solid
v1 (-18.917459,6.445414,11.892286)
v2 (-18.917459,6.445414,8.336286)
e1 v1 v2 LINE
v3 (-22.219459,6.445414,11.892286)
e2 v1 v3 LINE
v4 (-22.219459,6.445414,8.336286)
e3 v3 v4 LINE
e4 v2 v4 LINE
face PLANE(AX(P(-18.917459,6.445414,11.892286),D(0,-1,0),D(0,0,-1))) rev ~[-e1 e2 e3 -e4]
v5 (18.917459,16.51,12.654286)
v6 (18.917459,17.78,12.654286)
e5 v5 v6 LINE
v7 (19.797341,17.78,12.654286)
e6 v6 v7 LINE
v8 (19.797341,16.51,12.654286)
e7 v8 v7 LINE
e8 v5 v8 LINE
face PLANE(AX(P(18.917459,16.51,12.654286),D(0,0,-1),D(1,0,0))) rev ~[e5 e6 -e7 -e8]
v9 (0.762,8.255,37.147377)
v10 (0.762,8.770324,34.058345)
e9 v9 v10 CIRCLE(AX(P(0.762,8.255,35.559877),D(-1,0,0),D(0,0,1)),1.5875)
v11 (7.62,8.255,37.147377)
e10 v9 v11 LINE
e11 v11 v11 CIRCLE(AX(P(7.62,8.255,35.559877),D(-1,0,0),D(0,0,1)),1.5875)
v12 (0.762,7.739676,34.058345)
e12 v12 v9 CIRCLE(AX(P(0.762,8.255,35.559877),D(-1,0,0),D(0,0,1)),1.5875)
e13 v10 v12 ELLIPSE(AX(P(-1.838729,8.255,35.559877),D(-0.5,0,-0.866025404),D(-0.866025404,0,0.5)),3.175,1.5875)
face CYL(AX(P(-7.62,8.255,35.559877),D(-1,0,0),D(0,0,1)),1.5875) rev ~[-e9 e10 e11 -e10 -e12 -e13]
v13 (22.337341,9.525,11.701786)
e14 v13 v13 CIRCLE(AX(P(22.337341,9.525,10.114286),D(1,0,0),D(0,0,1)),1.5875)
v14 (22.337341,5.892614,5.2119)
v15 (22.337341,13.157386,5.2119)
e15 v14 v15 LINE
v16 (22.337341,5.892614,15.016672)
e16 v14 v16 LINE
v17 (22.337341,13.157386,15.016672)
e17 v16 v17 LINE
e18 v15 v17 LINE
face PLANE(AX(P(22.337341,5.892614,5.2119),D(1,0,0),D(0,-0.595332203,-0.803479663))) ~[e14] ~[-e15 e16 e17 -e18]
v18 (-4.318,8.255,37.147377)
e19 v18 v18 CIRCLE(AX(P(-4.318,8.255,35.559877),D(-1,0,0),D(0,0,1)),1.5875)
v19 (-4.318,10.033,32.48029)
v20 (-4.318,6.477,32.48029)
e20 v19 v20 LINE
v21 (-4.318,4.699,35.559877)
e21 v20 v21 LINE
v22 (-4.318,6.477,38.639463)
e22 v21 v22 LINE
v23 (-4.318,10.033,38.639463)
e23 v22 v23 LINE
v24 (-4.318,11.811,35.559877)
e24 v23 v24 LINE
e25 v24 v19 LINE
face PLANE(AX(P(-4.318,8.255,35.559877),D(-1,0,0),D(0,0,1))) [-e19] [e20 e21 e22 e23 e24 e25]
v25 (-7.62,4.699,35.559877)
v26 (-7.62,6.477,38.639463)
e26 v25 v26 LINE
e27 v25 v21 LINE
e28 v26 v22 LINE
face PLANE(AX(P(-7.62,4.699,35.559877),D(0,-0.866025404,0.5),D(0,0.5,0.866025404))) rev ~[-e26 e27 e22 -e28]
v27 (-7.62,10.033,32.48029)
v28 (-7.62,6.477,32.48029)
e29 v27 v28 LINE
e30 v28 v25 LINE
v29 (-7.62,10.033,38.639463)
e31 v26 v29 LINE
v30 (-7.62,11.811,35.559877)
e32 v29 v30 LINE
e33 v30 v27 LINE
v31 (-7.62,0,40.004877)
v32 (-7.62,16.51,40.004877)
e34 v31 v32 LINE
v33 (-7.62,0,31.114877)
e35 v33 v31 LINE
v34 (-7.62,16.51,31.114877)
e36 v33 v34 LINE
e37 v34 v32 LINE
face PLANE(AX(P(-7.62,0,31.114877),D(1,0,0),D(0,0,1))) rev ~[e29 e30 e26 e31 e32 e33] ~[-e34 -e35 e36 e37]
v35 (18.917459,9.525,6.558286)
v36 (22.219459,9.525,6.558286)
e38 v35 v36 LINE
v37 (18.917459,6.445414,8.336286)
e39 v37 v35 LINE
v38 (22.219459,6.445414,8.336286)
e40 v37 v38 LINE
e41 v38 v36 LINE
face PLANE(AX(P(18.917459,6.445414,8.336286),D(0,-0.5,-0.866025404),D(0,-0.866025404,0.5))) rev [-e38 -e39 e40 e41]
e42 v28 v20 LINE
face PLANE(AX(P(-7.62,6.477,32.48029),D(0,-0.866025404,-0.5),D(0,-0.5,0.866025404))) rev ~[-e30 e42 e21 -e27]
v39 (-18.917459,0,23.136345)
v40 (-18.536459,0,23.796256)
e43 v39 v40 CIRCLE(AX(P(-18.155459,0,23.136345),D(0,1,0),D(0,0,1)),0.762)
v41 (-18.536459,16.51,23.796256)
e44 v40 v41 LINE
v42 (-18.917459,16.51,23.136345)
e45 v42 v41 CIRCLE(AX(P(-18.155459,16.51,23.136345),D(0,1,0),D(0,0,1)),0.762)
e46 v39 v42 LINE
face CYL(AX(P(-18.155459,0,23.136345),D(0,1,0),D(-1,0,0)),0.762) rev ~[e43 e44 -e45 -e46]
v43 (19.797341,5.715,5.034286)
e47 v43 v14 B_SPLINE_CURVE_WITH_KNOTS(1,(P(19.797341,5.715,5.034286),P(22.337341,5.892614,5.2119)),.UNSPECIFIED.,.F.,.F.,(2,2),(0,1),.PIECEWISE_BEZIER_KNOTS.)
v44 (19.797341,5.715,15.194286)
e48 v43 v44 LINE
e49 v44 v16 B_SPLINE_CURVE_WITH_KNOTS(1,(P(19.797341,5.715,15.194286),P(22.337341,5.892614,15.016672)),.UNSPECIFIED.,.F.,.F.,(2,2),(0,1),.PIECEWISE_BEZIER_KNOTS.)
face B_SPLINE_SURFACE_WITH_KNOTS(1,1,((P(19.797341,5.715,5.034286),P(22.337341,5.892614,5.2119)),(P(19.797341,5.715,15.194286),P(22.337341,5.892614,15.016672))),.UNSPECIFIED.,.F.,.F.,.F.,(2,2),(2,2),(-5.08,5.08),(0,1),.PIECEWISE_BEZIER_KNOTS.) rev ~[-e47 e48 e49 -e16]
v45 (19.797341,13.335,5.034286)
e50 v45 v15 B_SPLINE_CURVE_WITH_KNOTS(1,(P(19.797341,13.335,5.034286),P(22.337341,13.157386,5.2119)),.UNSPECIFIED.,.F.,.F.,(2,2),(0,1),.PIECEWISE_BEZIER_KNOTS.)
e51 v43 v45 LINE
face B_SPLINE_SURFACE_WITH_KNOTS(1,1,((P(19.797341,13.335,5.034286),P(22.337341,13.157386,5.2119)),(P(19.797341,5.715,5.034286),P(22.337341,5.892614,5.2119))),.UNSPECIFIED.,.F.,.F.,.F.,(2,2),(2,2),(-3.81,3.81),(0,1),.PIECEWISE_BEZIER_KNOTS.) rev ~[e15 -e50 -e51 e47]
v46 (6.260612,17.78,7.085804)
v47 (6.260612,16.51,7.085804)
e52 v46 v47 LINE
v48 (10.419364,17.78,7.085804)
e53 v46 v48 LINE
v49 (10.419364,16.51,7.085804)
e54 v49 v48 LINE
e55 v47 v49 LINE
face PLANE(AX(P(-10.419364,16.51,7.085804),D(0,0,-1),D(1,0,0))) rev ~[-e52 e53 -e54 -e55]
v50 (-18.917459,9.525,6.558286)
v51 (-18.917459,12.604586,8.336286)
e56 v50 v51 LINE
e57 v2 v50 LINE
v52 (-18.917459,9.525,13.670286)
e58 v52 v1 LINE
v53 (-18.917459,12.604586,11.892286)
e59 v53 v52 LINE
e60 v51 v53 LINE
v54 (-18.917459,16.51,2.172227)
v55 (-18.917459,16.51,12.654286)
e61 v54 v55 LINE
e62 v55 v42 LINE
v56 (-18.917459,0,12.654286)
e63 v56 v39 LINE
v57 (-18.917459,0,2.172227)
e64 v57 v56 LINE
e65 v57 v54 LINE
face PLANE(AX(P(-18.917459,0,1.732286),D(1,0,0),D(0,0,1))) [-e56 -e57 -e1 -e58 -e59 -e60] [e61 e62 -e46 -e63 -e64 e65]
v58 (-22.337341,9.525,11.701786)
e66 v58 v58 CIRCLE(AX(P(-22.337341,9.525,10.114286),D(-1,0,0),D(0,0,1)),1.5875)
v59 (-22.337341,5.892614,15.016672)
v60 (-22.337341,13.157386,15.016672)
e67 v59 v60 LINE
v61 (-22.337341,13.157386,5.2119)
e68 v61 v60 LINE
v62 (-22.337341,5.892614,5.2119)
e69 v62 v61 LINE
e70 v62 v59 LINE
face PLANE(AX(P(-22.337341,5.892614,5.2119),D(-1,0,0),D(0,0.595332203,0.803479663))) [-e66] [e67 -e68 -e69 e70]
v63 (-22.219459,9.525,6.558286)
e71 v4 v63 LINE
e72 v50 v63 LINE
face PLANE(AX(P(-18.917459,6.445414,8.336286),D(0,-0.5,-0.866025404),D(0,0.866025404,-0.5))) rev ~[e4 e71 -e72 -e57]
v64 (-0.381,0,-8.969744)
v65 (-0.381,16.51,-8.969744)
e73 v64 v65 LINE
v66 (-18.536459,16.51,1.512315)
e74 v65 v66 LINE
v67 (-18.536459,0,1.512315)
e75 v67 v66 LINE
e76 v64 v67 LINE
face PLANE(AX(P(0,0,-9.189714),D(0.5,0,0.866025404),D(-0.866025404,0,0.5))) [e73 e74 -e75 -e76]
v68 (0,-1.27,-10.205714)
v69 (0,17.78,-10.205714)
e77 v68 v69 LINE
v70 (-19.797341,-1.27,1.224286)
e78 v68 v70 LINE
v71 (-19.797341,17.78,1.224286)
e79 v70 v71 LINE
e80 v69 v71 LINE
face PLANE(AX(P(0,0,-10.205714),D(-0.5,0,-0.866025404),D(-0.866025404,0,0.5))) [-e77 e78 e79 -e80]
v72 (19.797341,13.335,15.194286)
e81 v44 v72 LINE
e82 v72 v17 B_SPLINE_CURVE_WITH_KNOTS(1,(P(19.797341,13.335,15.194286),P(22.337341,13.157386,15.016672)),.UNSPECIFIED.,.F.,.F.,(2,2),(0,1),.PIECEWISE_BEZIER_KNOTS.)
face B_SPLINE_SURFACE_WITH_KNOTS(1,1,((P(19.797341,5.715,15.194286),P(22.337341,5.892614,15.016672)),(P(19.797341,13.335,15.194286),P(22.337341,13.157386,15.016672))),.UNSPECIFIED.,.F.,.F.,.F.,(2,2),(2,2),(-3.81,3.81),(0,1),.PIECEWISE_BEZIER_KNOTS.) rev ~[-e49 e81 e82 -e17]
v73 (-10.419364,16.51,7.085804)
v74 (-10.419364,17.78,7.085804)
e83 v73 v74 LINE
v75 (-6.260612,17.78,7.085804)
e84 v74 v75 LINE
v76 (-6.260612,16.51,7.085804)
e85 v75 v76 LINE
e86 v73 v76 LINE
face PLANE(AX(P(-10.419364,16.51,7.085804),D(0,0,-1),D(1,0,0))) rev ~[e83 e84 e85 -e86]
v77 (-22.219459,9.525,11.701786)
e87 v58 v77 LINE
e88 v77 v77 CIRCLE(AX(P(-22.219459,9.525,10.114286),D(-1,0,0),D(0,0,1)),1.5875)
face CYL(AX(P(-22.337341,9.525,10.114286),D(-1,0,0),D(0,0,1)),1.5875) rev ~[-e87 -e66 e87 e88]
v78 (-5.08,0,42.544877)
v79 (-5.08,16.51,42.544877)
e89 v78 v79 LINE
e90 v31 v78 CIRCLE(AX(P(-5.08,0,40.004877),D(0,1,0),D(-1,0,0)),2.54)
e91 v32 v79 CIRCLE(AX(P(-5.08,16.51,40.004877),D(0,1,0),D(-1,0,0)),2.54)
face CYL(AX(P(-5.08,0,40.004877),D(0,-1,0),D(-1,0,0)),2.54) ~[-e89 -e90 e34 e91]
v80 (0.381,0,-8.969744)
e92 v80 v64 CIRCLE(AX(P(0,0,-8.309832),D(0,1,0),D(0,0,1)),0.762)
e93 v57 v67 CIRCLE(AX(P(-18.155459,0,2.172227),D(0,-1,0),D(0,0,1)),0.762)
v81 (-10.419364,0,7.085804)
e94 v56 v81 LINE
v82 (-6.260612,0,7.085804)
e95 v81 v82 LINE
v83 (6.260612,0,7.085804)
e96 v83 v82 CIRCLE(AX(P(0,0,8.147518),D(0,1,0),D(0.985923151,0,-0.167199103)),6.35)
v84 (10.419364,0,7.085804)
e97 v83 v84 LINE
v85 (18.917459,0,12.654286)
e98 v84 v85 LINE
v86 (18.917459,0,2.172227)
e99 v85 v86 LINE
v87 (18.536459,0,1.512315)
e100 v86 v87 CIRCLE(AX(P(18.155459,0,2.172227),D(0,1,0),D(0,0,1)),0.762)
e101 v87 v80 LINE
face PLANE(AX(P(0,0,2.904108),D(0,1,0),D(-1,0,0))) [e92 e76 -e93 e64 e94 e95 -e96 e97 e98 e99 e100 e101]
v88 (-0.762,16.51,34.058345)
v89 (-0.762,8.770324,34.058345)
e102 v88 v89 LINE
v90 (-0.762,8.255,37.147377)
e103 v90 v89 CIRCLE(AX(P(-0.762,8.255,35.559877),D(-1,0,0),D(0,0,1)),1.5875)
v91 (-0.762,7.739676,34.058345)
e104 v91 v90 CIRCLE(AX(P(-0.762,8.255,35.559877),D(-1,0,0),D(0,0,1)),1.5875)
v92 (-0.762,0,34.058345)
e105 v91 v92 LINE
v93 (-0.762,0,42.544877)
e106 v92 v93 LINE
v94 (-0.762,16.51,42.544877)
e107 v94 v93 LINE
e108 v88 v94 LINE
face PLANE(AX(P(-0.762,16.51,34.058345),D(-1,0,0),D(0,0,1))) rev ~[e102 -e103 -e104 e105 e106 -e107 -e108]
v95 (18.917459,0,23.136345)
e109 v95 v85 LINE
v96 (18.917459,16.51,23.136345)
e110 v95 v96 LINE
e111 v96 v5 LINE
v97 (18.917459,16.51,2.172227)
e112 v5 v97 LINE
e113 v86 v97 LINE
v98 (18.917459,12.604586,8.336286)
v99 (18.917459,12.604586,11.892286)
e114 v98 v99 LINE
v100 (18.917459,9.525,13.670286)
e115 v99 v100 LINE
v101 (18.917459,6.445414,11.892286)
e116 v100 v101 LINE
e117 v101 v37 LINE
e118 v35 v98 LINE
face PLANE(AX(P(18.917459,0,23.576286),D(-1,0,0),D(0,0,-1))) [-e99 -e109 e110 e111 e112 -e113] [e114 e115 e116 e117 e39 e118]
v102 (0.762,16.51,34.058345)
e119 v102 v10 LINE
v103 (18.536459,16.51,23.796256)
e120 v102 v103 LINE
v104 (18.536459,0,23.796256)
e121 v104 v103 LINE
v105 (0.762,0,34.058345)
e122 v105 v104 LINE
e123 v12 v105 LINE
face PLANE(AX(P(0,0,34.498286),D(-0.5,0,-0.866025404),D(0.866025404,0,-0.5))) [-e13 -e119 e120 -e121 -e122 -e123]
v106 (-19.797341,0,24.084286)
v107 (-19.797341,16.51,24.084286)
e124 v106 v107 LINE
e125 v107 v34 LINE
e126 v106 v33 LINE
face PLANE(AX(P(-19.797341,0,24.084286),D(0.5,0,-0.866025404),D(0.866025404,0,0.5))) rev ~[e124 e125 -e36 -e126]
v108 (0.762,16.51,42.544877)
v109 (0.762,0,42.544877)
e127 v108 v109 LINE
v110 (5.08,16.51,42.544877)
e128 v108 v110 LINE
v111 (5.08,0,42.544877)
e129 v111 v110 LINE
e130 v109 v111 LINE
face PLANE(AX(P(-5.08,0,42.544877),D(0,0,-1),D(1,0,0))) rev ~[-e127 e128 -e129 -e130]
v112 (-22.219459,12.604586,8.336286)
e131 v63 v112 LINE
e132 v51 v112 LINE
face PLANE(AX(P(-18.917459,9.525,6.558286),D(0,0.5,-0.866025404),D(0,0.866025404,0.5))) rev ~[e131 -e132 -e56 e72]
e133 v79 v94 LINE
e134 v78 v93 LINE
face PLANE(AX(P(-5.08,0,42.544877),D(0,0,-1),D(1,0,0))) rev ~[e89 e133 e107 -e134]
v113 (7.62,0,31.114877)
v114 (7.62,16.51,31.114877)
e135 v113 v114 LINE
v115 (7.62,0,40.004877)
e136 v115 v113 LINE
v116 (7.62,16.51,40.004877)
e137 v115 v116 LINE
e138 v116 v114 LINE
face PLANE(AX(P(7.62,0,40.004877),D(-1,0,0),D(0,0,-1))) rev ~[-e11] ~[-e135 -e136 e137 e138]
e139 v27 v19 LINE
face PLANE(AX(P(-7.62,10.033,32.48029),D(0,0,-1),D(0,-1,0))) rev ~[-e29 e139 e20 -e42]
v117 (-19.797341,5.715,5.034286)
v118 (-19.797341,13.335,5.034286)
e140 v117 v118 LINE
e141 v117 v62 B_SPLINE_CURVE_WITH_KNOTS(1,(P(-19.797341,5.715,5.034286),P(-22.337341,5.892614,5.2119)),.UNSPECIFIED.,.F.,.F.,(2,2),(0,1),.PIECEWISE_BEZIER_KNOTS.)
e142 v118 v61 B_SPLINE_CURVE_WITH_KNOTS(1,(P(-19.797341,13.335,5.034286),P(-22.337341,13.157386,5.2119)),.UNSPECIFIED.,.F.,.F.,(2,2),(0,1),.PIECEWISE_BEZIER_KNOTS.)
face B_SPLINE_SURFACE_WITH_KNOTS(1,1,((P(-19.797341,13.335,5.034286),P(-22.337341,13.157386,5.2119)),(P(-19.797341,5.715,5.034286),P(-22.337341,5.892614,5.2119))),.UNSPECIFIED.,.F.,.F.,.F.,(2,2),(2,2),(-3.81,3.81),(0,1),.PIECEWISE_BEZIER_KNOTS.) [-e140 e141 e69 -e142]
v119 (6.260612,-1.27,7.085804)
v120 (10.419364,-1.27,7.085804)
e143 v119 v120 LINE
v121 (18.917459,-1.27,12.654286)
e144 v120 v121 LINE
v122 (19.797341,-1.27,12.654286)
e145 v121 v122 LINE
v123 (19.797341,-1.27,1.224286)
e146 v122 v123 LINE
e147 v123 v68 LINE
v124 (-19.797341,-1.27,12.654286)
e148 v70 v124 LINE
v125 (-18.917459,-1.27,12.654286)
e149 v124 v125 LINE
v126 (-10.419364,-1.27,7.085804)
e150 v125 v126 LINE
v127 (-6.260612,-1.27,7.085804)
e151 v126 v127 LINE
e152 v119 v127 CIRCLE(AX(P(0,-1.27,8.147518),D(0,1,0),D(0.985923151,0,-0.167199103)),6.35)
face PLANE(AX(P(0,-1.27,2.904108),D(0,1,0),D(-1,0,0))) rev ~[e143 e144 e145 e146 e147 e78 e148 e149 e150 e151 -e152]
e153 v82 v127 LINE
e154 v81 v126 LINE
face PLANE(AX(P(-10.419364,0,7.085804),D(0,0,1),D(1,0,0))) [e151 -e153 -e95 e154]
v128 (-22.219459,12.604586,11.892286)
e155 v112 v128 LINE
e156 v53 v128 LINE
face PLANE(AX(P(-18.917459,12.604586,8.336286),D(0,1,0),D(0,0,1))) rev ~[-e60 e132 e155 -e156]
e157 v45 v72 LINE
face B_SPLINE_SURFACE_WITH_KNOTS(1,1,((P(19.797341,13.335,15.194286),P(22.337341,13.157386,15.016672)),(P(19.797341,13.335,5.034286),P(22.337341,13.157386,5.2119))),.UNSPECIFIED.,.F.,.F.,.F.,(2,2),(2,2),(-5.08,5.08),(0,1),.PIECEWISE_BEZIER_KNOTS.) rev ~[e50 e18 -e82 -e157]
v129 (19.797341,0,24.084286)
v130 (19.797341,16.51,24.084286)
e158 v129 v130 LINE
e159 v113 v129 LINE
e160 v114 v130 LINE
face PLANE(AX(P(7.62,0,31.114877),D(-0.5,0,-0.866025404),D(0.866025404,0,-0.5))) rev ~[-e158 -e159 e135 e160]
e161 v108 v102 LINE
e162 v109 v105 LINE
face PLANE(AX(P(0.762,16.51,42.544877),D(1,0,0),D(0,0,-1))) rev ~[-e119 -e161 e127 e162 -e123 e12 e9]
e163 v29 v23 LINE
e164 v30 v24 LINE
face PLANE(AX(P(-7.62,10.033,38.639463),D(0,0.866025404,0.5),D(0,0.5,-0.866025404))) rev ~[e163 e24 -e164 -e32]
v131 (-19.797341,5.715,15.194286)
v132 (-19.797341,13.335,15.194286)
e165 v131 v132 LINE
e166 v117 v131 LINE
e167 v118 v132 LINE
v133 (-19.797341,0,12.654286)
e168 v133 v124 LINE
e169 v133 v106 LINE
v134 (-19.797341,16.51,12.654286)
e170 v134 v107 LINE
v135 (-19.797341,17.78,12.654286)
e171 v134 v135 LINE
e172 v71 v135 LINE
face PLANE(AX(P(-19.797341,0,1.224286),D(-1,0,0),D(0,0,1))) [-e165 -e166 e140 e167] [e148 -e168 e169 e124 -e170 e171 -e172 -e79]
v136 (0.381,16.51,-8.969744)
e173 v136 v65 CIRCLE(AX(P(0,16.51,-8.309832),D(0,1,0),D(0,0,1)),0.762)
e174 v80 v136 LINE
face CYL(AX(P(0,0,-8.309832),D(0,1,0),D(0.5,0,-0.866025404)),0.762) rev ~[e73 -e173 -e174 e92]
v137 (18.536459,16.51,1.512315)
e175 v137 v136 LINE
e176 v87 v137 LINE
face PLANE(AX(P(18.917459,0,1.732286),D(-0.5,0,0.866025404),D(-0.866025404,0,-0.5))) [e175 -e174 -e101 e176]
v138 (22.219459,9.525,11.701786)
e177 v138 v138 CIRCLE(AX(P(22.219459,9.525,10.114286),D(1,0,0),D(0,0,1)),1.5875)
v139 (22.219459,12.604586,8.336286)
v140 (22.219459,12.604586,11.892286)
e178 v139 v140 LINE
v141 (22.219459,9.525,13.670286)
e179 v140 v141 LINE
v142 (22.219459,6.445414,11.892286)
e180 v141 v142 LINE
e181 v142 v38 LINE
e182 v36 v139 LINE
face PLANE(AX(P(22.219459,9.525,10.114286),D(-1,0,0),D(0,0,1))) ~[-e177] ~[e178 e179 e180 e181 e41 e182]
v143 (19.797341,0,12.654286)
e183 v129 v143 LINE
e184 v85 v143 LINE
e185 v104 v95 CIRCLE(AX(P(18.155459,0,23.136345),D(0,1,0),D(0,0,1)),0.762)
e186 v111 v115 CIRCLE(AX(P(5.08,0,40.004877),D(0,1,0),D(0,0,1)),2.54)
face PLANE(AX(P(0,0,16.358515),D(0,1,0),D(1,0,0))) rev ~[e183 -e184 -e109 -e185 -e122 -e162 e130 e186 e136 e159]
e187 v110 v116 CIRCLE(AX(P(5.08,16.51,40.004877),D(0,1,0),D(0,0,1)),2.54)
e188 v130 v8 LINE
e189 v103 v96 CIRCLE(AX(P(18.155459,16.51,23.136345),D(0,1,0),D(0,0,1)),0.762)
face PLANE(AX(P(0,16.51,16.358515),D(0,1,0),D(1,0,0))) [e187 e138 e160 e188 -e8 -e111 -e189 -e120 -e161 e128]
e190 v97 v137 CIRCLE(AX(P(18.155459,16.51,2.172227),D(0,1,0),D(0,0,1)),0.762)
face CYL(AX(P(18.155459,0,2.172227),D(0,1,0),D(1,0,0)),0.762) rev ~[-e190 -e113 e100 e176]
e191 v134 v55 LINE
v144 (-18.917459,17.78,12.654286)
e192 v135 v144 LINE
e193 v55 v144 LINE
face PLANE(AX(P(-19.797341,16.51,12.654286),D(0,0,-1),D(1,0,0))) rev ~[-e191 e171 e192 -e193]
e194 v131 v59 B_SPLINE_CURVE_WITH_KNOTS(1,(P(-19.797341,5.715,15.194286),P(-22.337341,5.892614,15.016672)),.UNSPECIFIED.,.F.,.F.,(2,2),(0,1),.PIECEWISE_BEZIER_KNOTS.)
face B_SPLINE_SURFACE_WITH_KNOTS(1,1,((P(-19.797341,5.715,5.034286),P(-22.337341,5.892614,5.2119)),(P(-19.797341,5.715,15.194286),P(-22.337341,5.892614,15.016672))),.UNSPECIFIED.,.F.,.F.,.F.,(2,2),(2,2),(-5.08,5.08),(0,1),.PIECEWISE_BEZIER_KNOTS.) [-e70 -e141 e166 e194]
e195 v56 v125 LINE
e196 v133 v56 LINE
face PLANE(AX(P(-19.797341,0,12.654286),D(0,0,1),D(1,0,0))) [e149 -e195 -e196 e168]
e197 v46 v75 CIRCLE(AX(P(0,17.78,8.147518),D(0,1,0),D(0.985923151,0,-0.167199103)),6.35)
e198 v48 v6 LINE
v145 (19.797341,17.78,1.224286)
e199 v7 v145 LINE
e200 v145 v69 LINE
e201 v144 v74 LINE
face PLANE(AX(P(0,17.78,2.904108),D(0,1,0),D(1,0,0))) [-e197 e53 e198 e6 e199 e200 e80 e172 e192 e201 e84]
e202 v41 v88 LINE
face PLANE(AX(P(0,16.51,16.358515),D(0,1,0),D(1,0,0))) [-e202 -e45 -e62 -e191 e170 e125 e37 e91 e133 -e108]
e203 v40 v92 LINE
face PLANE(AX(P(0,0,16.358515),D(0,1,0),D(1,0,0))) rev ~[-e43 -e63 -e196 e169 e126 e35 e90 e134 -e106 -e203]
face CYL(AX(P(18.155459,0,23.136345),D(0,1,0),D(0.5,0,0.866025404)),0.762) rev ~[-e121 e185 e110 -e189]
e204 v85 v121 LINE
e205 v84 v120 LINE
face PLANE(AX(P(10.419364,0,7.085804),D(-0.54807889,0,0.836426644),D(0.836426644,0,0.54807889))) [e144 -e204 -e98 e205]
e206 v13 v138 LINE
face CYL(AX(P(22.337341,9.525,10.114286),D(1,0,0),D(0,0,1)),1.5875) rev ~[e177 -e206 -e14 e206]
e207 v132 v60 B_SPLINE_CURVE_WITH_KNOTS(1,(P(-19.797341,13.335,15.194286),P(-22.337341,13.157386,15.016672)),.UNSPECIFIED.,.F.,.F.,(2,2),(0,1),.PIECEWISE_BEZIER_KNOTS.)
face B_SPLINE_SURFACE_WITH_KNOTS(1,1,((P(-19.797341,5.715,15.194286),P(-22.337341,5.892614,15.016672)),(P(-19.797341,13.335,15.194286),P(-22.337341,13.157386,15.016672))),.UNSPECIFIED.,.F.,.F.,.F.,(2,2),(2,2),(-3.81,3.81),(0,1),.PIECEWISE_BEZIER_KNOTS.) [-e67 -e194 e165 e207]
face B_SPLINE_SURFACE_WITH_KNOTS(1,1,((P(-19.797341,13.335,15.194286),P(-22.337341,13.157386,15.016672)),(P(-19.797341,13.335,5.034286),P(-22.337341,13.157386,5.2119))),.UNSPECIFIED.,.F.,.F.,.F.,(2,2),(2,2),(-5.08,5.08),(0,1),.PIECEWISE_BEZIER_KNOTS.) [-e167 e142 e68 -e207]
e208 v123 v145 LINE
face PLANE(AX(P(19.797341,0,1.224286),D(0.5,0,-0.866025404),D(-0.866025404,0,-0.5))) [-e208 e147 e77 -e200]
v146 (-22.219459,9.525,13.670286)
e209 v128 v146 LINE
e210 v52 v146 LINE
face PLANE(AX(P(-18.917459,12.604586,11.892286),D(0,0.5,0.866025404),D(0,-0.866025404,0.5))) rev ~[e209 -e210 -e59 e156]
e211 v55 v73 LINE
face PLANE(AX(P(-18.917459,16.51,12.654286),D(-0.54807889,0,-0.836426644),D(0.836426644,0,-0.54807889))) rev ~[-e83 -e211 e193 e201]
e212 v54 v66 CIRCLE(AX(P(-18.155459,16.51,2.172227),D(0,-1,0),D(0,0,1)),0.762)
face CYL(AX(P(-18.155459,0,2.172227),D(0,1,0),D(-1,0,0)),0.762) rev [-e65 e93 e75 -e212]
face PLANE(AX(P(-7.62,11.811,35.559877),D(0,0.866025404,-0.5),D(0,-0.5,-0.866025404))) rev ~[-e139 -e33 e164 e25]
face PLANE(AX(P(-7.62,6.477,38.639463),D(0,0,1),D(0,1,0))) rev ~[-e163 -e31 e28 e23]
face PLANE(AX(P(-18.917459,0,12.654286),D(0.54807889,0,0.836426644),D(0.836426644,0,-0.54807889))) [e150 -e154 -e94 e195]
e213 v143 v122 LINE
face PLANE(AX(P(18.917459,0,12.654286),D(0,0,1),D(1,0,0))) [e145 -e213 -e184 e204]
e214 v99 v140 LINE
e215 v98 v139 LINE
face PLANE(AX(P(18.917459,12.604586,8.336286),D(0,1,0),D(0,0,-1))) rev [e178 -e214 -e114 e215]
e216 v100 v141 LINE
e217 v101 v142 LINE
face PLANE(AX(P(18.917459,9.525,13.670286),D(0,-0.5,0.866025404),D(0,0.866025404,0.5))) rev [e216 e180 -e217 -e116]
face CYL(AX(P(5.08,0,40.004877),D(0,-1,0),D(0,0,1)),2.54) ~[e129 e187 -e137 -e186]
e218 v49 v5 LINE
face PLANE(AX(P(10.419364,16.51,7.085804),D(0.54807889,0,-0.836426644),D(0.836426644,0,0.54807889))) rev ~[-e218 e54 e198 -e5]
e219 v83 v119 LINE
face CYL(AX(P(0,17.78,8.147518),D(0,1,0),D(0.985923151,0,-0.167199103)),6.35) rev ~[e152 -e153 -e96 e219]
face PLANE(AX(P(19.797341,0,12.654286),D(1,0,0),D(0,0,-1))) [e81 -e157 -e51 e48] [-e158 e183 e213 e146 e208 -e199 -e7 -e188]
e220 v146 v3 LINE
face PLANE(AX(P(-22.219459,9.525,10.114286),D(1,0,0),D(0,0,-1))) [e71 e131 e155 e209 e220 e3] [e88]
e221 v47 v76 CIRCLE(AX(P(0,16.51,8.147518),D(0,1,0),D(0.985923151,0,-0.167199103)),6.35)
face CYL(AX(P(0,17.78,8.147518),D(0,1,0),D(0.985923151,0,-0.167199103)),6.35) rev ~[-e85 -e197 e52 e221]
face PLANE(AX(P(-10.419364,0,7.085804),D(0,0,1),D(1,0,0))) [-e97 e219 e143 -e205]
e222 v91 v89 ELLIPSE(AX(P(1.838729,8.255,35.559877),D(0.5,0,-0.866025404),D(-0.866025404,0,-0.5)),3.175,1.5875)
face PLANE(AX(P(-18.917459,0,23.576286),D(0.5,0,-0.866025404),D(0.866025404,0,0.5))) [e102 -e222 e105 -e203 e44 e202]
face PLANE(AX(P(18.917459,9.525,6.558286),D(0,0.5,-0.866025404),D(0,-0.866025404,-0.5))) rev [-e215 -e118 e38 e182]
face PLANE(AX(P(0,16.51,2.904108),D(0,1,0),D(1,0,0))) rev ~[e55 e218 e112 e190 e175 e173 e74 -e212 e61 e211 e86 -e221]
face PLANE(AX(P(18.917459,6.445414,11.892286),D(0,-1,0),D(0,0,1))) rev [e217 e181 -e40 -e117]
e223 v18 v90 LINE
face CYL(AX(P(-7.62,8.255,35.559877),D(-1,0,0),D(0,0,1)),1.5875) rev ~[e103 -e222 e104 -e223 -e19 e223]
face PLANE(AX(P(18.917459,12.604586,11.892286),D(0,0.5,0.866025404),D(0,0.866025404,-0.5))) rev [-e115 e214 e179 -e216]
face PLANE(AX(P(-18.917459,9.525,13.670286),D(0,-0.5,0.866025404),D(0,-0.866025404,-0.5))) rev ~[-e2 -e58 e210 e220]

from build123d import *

# Parameters (mm, degrees)
BOSS_EXTRUDE1_DEPTH = 16.51
CUT_EXTRUDE1_DEPTH  = 50.74516387
SKETCH4_R           = 1.5875
CUT_EXTRUDE2_DEPTH  = 54.238681437
BOSS_EXTRUDE3_DEPTH = 1.27
BOSS_EXTRUDE4_DEPTH = 1.27
SKETCH11_W          = 10.16
SKETCH11_H          = 7.62
BOSS_EXTRUDE5_DEPTH = 2.54
BOSS_EXTRUDE5_TAPER = 4
SKETCH12_R          = 1.5875
CUT_EXTRUDE3_DEPTH  = 63.462199051
CUT_EXTRUDE4_DEPTH  = 3.302
FILLET1_R           = 0.762
SKETCH14_R          = 1.5875
CUT_EXTRUDE6_DEPTH  = 65.202975796
CUT_EXTRUDE7_DEPTH  = 3.302
CUT_EXTRUDE10_DEPTH = 76.2


with BuildPart() as part:
    # Sketch1 → Boss-Extrude1 (new body)
    with BuildSketch(Plane(origin=(0, 0, 0), x_dir=(1, 0, 0), z_dir=(0, 1, 0))):
        with BuildLine():
            Line((-7.62, -31.114876642), (-7.62, -40.004876642))
            ThreePointArc((-7.62, -40.004876642), (-6.876051224, -41.800927866), (-5.08, -42.544876642))
            Line((-5.08, -42.544876642), (5.08, -42.544876642))
            ThreePointArc((5.08, -42.544876642), (6.876051224, -41.800927866), (7.62, -40.004876642))
            Line((7.62, -40.004876642), (7.62, -31.114876642))
            Line((7.62, -31.114876642), (19.797340731, -24.084285693))
            Line((19.797340731, -24.084285693), (19.797340731, -1.224285693))
            Line((19.797340731, -1.224285693), (0, 10.205714307))
            Line((0, 10.205714307), (-19.797340731, -1.224285693))
            Line((-19.797340731, -1.224285693), (-19.797340731, -24.084285693))
            Line((-19.797340731, -24.084285693), (-7.62, -31.114876642))
        make_face()
        Polygon((0, 9.189714307), (-18.91745892, -1.732285693), (-18.91745892, -23.576285693), (0, -34.498285693), (18.91745892, -23.576285693), (18.91745892, -1.732285693), align=None, mode=Mode.SUBTRACT)
    extrude(amount=BOSS_EXTRUDE1_DEPTH)

    # Sketch2 → Cut-Extrude1 (cut, through all)
    with BuildSketch(Plane(origin=(0, 16.51, 0), x_dir=(1, 0, 0), z_dir=(0, 1, 0))):
        Polygon((-0.762, -34.058344788), (-0.762, -42.544876642), (0.762, -42.544876642), (0.762, -34.058344788), (0, -34.498285693), align=None)
    extrude(amount=-CUT_EXTRUDE1_DEPTH, mode=Mode.SUBTRACT)

    # Sketch4 → Cut-Extrude2 (cut, through all)
    with BuildSketch(Plane.ZY.offset(7.62)):
        with Locations((35.559876642, 8.255)):
            Circle(SKETCH4_R)
    extrude(amount=-CUT_EXTRUDE2_DEPTH, mode=Mode.SUBTRACT)

    # Sketch8 → Boss-Extrude3 (add)
    with BuildSketch(Plane(origin=(0, 16.51, 0), x_dir=(1, 0, 0), z_dir=(0, 1, 0))):
        Polygon((-10.419364221, -7.085804169), (10.419364221, -7.085804169), (18.91745892, -12.654285693), (19.797340731, -12.654285693), (19.797340731, -1.224285693), (0, 10.205714307), (-19.797340731, -1.224285693), (-19.797340731, -12.654285693), (-18.91745892, -12.654285693), align=None)
    extrude(amount=BOSS_EXTRUDE3_DEPTH)

    # Sketch9 → Boss-Extrude4 (add)
    with BuildSketch(Plane.XZ):
        Polygon((-10.419364221, 7.085804169), (10.419364221, 7.085804169), (18.91745892, 12.654285693), (19.797340731, 12.654285693), (19.797340731, 1.224285693), (0, -10.205714307), (-19.797340731, 1.224285693), (-19.797340731, 12.654285693), (-18.91745892, 12.654285693), align=None)
    extrude(amount=BOSS_EXTRUDE4_DEPTH)

    # Sketch11 → Boss-Extrude5 (add)
    with BuildSketch(Plane.ZY.offset(19.797340731)):
        with Locations((10.114285693, 9.525)):
            Rectangle(SKETCH11_W, SKETCH11_H)
    boss_extrude5 = extrude(amount=BOSS_EXTRUDE5_DEPTH, taper=BOSS_EXTRUDE5_TAPER)

    # Sketch12 → Cut-Extrude3 (cut, through all)
    with BuildSketch(Plane.ZY.offset(22.337340731)):
        with Locations((10.114285693, 9.525)):
            Circle(SKETCH12_R)
    extrude(amount=-CUT_EXTRUDE3_DEPTH, mode=Mode.SUBTRACT)

    # Sketch13 → Cut-Extrude4 (cut)
    with BuildSketch(Plane(origin=(-18.91745892, 0, 0), x_dir=(0, 0, -1), z_dir=(1, 0, 0))):
        Polygon((-8.336285693, 12.604586336), (-11.892285693, 12.604586336), (-13.670285693, 9.525), (-11.892285693, 6.445413664), (-8.336285693, 6.445413664), (-6.558285693, 9.525), align=None)
    cut_extrude4 = extrude(amount=-CUT_EXTRUDE4_DEPTH, mode=Mode.SUBTRACT)

    # Mirror1: Boss-Extrude5, Cut-Extrude4 across plane
    add(boss_extrude5.mirror(Plane(origin=(0, 0, 0), x_dir=(0, 0, 1), z_dir=(1, 0, 0))))
    add(cut_extrude4.mirror(Plane(origin=(0, 0, 0), x_dir=(0, 0, 1), z_dir=(1, 0, 0))), mode=Mode.SUBTRACT)

    # Fillet1
    fillet1_edges = [part.edges().sort_by_distance(p)[0] for p in [
        (18.91745892, 8.255, 1.732285693),
        (0, 8.255, -9.189714307),
        (-18.91745892, 8.255, 1.732285693),
        (-18.91745892, 8.255, 23.576285693),
        (18.91745892, 8.255, 23.576285693),
    ]]
    fillet(fillet1_edges, radius=FILLET1_R)

    # Sketch14 → Cut-Extrude6 (cut, through all)
    with BuildSketch(Plane(origin=(22.337340731, 0, 0), x_dir=(0, 0, -1), z_dir=(1, 0, 0))):
        with Locations(Location((-10.114285693, 9.525, 0), (0, 0, 180))):
            Circle(SKETCH14_R)
    extrude(amount=-CUT_EXTRUDE6_DEPTH, mode=Mode.SUBTRACT)

    # Sketch15 → Cut-Extrude7 (cut)
    with BuildSketch(Plane.ZY.offset(7.62)):
        Polygon((35.559876642, 11.811), (32.480290306, 10.033), (32.480290306, 6.477), (35.559876642, 4.699), (38.639462978, 6.477), (38.639462978, 10.033), align=None)
    extrude(amount=-CUT_EXTRUDE7_DEPTH, mode=Mode.SUBTRACT)

    # Sketch16 → Cut-Extrude10 (cut)
    with BuildSketch(Plane(origin=(0, 17.78, 0), x_dir=(1, 0, 0), z_dir=(0, 1, 0))):
        with BuildLine():
            Line((-6.260612009, -7.085804169), (6.260612009, -7.085804169))
            ThreePointArc((6.260612009, -7.085804169), (0, -1.797518476), (-6.260612009, -7.085804169))
        make_face()
    extrude(amount=-CUT_EXTRUDE10_DEPTH, mode=Mode.SUBTRACT)


solid = part.part
